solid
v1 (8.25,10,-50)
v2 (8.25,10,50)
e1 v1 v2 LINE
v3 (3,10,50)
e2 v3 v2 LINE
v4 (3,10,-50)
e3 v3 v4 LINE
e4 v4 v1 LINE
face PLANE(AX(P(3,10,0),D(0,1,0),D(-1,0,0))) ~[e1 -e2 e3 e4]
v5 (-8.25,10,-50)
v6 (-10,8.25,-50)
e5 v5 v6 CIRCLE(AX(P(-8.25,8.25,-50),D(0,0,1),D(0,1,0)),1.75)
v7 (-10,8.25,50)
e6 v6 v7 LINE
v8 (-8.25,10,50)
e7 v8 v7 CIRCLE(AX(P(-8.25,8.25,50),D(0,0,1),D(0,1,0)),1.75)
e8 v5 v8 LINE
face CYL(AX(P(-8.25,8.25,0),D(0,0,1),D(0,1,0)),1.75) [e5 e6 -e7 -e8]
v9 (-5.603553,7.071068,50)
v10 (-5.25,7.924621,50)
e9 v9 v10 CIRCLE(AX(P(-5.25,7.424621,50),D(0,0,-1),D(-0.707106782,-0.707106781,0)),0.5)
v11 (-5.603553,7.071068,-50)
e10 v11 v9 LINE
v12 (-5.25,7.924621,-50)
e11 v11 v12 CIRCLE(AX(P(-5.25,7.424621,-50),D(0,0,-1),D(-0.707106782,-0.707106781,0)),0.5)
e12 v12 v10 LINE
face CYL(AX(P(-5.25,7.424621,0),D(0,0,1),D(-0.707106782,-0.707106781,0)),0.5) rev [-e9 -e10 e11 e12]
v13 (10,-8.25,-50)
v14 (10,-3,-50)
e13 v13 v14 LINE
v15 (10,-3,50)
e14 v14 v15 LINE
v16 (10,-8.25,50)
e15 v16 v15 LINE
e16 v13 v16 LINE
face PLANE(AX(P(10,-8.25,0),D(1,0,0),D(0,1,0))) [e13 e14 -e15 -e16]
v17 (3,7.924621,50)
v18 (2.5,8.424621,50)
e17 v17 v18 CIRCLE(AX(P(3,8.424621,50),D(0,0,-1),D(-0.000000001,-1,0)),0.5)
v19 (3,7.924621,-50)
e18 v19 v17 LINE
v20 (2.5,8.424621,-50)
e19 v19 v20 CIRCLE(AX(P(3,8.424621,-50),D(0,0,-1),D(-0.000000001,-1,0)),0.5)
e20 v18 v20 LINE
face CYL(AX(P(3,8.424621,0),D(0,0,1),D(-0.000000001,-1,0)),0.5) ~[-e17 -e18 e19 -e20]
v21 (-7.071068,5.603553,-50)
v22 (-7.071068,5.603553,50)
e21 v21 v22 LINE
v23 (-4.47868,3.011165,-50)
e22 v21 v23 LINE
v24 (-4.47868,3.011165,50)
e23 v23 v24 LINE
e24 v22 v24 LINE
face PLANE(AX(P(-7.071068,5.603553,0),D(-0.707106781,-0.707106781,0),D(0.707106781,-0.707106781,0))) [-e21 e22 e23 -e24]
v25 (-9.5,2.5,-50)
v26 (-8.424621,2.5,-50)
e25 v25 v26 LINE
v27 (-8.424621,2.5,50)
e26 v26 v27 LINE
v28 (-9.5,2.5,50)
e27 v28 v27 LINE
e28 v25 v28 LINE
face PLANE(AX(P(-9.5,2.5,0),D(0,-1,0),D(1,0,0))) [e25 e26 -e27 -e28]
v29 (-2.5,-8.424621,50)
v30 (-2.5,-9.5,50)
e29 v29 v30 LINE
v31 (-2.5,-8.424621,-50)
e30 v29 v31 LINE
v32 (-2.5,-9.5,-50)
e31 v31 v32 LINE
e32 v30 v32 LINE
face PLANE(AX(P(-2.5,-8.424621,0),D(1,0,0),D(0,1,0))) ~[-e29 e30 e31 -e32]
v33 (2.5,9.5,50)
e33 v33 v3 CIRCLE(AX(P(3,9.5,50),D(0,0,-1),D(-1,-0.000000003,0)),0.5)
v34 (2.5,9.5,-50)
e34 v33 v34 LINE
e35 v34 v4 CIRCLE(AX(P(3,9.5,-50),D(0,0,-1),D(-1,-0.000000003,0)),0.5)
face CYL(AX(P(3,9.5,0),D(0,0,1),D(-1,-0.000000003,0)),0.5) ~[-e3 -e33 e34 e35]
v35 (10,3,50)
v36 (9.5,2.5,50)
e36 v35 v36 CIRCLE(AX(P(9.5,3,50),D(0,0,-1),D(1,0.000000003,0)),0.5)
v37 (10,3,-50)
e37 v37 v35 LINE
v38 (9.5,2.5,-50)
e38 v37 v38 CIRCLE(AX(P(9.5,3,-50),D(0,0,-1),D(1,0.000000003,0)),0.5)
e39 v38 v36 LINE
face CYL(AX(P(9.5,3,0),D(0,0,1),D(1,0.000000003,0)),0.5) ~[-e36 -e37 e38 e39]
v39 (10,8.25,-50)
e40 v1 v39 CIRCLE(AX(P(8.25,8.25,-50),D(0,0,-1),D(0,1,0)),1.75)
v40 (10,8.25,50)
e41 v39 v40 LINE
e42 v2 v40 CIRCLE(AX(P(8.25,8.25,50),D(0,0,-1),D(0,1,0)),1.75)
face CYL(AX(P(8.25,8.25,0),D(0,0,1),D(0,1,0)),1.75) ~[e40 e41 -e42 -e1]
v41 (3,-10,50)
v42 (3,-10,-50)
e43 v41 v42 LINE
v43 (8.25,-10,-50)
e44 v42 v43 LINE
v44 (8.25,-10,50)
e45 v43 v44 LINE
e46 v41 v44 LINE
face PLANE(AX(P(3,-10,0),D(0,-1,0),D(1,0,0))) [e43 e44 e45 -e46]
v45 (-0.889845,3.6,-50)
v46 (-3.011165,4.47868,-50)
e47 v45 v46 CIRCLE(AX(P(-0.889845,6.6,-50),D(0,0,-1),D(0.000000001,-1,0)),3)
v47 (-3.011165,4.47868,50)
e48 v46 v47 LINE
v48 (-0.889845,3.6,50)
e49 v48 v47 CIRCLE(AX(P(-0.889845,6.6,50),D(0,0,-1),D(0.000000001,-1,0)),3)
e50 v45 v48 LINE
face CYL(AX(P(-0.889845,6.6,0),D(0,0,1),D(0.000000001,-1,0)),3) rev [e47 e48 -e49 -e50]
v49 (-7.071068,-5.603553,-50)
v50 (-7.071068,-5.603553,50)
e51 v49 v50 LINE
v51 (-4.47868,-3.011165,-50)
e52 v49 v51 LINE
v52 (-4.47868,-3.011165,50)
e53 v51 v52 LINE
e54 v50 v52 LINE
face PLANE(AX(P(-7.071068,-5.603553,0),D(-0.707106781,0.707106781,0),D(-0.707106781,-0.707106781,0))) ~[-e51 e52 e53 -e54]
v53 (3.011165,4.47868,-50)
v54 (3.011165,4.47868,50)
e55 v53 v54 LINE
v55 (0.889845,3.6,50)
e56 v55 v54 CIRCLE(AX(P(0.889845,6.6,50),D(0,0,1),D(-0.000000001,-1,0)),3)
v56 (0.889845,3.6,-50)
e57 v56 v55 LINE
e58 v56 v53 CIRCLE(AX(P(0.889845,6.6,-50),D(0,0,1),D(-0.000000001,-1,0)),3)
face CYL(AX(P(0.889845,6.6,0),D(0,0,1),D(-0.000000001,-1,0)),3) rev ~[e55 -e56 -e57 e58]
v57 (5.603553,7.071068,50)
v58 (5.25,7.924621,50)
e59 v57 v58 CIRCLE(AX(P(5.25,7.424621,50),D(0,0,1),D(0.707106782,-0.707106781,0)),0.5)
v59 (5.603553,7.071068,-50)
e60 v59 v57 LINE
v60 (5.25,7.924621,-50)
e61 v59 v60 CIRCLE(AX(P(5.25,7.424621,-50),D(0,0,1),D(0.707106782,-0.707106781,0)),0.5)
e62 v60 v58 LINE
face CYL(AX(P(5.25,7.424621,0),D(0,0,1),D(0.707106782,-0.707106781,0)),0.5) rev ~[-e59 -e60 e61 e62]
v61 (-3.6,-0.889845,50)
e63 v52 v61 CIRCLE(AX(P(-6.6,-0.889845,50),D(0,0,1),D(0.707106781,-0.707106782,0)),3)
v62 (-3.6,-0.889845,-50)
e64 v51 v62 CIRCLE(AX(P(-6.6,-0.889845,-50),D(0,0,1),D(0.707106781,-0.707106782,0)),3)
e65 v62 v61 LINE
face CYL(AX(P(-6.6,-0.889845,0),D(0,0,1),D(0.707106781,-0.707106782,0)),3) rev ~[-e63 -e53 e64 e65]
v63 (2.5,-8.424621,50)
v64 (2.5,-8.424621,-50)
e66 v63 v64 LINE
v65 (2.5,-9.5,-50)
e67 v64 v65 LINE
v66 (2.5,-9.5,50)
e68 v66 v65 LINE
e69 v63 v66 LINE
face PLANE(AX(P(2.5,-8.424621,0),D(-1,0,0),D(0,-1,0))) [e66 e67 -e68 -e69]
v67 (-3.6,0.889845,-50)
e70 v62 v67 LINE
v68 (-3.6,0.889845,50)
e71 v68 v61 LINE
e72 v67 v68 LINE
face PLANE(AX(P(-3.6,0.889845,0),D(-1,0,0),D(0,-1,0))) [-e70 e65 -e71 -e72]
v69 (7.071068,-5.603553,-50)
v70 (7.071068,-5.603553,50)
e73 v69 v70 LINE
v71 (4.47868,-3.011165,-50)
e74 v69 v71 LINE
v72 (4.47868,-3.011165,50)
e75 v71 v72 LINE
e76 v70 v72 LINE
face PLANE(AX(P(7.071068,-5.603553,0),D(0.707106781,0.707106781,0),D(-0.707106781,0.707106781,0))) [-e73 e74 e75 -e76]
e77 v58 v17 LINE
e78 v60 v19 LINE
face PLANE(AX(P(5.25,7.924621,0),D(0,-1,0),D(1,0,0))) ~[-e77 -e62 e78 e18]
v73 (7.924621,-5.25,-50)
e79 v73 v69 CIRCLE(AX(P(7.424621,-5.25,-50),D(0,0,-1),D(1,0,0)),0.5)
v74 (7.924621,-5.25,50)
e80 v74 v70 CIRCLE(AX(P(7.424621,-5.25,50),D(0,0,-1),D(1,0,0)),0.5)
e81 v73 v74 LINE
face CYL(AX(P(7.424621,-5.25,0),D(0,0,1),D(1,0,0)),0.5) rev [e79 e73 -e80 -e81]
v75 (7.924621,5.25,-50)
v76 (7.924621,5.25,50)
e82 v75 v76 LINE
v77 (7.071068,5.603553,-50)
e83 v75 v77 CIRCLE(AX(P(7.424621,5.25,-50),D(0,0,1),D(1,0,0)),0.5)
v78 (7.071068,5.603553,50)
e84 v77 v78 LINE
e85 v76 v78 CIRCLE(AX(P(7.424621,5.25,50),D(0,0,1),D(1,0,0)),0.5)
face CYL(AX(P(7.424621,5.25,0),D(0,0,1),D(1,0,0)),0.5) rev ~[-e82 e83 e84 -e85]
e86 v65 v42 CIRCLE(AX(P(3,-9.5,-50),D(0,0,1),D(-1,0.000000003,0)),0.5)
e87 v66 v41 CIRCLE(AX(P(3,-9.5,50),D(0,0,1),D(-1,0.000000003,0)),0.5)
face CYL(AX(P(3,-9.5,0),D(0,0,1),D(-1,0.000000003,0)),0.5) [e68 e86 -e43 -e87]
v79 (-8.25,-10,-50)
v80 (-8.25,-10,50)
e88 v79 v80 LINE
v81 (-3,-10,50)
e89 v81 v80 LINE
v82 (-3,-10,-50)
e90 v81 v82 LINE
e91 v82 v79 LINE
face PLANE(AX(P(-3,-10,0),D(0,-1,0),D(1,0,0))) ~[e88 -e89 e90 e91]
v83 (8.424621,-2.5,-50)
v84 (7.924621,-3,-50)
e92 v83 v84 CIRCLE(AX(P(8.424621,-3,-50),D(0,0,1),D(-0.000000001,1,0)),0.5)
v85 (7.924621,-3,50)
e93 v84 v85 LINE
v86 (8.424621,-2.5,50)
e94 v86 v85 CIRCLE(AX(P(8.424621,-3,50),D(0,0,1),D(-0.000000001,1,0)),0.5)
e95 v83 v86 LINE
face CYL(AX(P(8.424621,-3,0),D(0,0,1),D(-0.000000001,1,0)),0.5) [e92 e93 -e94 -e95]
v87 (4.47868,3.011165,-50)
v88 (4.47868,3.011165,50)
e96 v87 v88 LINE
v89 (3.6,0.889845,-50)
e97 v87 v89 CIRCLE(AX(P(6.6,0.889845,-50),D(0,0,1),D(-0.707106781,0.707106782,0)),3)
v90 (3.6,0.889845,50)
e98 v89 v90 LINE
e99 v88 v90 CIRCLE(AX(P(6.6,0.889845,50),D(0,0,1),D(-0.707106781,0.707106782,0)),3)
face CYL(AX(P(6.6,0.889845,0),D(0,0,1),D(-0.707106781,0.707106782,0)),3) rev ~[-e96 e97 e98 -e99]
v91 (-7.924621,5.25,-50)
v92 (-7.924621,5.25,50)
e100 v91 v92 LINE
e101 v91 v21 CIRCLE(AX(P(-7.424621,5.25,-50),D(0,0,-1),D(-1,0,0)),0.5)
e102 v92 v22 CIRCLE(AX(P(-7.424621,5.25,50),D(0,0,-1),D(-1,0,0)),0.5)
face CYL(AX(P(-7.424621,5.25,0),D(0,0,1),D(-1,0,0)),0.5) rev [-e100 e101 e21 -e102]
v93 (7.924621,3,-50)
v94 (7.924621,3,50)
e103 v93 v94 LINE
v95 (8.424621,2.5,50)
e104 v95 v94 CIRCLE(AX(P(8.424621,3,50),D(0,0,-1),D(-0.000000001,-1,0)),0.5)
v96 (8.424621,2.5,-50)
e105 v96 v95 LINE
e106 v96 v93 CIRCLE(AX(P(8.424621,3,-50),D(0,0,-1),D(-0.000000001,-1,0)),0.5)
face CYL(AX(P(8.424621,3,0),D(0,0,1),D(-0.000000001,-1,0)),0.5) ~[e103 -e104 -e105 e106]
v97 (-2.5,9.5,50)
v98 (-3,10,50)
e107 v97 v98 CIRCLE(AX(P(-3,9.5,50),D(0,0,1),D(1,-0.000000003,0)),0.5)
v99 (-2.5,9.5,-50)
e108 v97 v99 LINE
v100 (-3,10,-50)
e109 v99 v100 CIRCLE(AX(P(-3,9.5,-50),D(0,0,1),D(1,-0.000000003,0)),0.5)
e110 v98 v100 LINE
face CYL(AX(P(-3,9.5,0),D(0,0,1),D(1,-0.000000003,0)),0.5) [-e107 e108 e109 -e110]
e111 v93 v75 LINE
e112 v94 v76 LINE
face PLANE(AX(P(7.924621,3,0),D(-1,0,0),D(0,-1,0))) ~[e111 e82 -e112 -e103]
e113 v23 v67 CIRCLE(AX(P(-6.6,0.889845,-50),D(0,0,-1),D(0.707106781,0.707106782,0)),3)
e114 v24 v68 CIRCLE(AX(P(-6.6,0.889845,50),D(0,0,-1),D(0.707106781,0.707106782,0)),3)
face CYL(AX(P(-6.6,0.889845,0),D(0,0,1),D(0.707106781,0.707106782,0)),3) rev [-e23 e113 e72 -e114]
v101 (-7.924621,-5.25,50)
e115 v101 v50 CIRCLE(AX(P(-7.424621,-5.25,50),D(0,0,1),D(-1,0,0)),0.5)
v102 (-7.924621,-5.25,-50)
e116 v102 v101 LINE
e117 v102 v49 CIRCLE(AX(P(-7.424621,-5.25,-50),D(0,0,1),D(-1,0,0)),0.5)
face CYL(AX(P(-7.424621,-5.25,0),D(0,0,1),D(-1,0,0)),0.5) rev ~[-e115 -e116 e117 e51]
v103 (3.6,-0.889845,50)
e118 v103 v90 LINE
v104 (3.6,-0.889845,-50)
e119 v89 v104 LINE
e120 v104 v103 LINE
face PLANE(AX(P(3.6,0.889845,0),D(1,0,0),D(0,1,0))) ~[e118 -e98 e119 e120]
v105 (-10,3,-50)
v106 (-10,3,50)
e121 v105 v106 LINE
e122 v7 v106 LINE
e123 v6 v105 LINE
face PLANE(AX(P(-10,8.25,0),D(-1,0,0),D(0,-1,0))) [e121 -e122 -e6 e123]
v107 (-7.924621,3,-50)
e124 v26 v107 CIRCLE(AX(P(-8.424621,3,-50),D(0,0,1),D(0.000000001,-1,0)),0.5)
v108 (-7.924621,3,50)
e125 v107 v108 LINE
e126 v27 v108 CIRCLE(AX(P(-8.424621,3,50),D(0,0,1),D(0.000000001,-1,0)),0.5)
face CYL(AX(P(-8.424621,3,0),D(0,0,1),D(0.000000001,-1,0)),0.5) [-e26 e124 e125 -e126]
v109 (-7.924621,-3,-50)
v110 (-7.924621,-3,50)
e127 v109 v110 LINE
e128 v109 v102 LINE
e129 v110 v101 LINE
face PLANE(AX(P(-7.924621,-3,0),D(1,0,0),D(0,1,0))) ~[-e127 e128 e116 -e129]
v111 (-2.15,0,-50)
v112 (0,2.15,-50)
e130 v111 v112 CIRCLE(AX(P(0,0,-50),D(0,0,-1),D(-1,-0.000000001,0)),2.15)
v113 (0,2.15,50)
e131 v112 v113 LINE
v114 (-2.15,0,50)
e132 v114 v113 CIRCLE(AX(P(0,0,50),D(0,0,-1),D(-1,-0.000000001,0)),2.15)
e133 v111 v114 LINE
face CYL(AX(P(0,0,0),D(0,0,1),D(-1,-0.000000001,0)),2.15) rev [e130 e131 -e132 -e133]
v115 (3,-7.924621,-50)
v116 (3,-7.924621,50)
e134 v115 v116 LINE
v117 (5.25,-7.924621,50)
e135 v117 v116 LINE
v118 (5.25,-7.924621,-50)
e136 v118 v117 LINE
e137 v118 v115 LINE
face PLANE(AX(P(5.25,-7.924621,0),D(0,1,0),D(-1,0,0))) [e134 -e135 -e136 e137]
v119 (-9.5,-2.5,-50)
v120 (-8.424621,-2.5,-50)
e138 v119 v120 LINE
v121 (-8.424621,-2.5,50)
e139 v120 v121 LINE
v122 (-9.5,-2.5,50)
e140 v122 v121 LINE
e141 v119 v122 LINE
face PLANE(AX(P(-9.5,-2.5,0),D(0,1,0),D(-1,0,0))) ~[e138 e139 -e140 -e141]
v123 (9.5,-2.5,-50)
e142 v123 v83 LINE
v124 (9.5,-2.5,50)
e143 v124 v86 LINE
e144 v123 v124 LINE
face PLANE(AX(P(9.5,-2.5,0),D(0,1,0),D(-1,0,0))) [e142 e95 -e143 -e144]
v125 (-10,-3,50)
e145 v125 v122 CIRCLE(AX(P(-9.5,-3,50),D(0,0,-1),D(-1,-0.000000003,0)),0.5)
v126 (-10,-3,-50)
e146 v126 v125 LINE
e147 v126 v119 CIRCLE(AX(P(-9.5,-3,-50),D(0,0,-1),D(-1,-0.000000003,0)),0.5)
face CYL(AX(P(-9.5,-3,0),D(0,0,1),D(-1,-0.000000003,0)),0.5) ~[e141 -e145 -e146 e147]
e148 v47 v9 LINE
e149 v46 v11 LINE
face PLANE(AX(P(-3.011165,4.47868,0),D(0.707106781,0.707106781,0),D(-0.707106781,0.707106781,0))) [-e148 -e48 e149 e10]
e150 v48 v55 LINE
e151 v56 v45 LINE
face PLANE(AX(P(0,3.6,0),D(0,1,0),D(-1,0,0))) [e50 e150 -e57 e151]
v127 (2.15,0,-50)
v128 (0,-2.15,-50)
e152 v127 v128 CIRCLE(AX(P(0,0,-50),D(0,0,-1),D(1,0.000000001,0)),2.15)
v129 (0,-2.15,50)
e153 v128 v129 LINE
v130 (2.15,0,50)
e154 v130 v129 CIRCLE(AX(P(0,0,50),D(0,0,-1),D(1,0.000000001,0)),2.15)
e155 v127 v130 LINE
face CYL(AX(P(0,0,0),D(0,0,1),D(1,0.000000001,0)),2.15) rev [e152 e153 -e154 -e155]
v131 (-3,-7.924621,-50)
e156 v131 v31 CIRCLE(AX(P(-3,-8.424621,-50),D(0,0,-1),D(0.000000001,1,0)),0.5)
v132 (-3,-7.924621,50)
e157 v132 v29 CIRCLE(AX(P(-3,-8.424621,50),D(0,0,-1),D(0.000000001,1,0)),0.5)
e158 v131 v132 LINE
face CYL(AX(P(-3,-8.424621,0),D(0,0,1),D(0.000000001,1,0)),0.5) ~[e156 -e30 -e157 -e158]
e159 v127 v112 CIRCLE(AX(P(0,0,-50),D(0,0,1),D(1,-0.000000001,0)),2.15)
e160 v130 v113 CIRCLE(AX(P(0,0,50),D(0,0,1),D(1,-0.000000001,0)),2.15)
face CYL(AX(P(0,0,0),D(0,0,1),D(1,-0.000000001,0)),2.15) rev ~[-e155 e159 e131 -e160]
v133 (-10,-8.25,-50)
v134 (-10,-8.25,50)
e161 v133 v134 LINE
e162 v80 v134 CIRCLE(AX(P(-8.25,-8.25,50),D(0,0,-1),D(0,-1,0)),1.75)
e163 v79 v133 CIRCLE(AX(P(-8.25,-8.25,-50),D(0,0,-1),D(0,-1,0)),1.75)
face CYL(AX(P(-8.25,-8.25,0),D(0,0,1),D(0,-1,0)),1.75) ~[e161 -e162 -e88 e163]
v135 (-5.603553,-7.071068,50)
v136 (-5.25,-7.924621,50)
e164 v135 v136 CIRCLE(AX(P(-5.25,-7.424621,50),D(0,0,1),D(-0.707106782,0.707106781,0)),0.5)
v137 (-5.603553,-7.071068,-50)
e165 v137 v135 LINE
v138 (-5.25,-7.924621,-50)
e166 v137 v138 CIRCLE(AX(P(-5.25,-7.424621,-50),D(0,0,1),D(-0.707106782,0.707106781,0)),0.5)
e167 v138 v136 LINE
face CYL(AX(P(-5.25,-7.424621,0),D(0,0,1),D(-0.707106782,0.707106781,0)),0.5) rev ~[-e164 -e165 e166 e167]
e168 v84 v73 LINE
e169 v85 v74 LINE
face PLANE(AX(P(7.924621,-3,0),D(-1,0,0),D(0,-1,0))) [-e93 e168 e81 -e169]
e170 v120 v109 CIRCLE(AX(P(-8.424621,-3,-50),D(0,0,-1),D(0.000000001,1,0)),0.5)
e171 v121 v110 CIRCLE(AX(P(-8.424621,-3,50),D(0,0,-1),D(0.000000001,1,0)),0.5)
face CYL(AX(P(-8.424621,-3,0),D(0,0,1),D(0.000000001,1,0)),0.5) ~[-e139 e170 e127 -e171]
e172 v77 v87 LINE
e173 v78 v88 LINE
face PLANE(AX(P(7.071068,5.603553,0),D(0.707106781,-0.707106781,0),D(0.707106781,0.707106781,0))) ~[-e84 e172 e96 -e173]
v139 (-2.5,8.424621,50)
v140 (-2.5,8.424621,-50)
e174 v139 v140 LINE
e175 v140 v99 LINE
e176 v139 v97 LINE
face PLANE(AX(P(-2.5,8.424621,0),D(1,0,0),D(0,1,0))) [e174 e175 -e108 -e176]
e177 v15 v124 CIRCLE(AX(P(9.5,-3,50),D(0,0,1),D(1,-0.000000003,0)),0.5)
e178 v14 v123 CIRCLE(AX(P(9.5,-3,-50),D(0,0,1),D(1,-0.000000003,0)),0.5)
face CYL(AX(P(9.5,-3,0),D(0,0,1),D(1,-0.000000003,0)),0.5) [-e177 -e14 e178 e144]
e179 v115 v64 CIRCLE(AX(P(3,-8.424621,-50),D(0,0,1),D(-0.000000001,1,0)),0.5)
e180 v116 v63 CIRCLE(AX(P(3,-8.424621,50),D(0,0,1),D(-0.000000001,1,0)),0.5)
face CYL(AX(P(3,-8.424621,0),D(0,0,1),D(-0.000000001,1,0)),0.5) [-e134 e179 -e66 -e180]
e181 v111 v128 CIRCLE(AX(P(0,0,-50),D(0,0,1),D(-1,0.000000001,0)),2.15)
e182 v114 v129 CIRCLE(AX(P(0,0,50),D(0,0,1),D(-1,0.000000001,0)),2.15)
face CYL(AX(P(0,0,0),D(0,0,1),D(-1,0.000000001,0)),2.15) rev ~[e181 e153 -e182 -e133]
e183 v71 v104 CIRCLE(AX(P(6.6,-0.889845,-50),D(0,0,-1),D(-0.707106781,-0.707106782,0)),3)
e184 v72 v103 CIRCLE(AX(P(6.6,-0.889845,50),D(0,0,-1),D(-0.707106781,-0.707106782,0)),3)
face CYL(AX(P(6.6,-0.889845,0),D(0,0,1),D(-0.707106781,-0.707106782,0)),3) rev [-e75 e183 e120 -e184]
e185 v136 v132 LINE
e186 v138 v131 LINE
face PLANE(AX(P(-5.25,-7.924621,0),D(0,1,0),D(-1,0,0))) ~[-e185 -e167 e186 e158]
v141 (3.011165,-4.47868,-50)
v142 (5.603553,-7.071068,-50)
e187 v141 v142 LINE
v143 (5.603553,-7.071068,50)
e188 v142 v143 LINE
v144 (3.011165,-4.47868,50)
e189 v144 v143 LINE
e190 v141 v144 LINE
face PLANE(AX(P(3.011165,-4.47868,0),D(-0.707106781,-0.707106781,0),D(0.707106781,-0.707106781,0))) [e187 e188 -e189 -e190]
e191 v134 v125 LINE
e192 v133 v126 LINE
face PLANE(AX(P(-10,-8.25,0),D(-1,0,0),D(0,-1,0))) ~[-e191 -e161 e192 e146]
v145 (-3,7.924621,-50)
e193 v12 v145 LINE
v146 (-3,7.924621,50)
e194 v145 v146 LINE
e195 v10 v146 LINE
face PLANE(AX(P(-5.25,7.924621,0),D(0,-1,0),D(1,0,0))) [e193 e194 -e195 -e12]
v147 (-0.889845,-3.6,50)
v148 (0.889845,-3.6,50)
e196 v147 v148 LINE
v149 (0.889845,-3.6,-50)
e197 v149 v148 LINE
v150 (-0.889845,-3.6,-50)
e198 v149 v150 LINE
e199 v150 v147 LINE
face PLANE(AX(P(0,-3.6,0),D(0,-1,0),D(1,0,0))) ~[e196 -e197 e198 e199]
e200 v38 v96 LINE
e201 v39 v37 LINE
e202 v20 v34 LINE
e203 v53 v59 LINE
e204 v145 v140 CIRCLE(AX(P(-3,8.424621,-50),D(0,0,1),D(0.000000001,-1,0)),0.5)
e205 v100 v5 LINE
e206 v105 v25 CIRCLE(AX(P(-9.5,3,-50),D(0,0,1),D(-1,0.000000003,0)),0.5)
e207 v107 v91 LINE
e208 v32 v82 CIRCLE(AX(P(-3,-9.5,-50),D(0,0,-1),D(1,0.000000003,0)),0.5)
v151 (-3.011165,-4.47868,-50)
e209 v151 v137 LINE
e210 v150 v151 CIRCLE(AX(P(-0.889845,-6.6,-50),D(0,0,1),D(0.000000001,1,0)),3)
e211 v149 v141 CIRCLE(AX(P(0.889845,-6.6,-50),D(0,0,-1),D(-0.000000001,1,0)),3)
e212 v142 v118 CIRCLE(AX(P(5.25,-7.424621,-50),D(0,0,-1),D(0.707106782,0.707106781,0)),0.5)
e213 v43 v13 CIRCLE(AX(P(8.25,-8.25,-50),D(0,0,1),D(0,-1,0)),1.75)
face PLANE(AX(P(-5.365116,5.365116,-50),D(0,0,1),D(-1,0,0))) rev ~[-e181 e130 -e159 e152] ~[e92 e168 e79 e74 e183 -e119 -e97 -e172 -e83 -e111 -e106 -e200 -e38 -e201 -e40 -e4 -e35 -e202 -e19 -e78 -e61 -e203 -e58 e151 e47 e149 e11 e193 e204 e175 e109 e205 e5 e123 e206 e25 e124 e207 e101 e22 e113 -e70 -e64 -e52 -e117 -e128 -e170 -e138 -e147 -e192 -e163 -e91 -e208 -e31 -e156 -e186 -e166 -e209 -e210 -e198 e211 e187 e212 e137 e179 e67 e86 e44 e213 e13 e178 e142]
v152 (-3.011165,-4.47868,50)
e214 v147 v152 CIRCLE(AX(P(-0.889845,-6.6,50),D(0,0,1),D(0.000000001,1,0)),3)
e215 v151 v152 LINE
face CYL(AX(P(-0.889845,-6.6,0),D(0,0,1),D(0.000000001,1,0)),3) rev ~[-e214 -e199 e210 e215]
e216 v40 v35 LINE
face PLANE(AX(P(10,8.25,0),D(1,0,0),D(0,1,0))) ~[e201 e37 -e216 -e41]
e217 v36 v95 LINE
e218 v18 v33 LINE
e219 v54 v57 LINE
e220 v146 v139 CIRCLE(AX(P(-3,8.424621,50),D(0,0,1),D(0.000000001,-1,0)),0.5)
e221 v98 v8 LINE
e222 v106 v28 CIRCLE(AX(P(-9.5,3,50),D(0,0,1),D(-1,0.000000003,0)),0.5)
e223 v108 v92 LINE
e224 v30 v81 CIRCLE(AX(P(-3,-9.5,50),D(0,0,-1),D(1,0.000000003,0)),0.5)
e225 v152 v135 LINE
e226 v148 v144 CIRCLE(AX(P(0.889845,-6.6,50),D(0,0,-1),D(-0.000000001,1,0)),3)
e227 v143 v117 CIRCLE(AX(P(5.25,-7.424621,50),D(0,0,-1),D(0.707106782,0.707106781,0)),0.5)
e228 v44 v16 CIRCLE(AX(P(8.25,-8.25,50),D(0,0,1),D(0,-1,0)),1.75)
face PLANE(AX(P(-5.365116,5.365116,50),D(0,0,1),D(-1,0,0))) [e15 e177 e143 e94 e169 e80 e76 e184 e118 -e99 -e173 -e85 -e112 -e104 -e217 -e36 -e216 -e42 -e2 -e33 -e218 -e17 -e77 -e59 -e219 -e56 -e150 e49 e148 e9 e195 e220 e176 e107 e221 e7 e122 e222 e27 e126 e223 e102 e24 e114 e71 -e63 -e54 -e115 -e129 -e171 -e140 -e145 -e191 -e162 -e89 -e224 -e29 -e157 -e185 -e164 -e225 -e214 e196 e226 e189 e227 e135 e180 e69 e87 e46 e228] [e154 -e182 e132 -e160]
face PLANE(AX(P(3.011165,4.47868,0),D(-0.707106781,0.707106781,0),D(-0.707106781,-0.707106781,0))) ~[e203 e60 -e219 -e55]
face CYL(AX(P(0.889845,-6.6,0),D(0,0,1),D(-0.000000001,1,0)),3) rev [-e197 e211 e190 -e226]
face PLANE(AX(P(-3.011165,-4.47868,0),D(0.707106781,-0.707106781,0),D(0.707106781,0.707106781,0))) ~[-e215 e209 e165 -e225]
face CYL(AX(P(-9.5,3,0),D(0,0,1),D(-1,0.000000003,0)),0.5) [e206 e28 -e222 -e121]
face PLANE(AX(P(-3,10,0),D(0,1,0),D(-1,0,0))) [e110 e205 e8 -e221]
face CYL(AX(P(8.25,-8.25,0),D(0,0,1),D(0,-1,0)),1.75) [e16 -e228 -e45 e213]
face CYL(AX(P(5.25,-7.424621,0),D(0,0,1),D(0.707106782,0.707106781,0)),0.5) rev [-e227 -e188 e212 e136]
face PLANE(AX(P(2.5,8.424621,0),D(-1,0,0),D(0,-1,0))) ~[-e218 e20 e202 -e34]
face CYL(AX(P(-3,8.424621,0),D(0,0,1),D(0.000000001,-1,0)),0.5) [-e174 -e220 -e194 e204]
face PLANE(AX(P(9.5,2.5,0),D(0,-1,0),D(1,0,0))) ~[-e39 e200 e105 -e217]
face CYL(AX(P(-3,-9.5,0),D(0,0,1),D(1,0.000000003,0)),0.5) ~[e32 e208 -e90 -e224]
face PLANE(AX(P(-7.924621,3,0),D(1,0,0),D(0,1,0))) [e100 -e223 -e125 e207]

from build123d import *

# Parameters (mm, degrees)
BOSS_EXTRUDE1_DEPTH = 50


with BuildPart() as part:
    # Sketch4 → Boss-Extrude1 (new body, symmetric)
    with BuildSketch(Plane.XY):
        with BuildLine():
            Line((3, -10), (8.25, -10))
            ThreePointArc((8.25, -10), (9.487436867, -9.487436867), (10, -8.25))
            Line((10, -8.25), (10, -3))
            ThreePointArc((10, -3), (9.853553391, -2.646446609), (9.5, -2.5))
            Line((9.5, -2.5), (8.424621202, -2.5))
            ThreePointArc((8.424621202, -2.5), (8.071067812, -2.646446609), (7.924621202, -3))
            Line((7.924621202, -3), (7.924621202, -5.25))
            ThreePointArc((7.924621202, -5.25), (7.615962919, -5.711939766), (7.071067812, -5.603553391))
            Line((7.071067812, -5.603553391), (4.478679656, -3.011165235))
            ThreePointArc((4.478679656, -3.011165235), (3.828361402, -2.037895189), (3.6, -0.889844892))
            Line((3.6, -0.889844892), (3.6, 0))
            Line((3.6, 0), (2.15, 0))
            ThreePointArc((2.15, 0), (1.52027958, -1.52027958), (0, -2.15))
            Line((0, -2.15), (0, -3.6))
            Line((0, -3.6), (0.889844892, -3.6))
            ThreePointArc((0.889844892, -3.6), (2.037895189, -3.828361402), (3.011165235, -4.478679656))
            Line((3.011165235, -4.478679656), (5.603553391, -7.071067812))
            ThreePointArc((5.603553391, -7.071067812), (5.711939766, -7.615962919), (5.25, -7.924621202))
            Line((5.25, -7.924621202), (3, -7.924621202))
            ThreePointArc((3, -7.924621202), (2.646446609, -8.071067812), (2.5, -8.424621202))
            Line((2.5, -8.424621202), (2.5, -9.5))
            ThreePointArc((2.5, -9.5), (2.646446609, -9.853553391), (3, -10))
        make_face()
    extrude(amount=BOSS_EXTRUDE1_DEPTH, both=True)

    # Mirror1: part across plane


with BuildPart() as part_1:
    add(part.part)
    add(part.part.mirror(Plane(origin=(0, 0, 0), x_dir=(0, 0, 1), z_dir=(1, 0, 0))))

    # Mirror2: part across plane


with BuildPart() as part_2:
    add(part_1.part)
    add(part_1.part.mirror(Plane.ZX))


solid = part_2.part
